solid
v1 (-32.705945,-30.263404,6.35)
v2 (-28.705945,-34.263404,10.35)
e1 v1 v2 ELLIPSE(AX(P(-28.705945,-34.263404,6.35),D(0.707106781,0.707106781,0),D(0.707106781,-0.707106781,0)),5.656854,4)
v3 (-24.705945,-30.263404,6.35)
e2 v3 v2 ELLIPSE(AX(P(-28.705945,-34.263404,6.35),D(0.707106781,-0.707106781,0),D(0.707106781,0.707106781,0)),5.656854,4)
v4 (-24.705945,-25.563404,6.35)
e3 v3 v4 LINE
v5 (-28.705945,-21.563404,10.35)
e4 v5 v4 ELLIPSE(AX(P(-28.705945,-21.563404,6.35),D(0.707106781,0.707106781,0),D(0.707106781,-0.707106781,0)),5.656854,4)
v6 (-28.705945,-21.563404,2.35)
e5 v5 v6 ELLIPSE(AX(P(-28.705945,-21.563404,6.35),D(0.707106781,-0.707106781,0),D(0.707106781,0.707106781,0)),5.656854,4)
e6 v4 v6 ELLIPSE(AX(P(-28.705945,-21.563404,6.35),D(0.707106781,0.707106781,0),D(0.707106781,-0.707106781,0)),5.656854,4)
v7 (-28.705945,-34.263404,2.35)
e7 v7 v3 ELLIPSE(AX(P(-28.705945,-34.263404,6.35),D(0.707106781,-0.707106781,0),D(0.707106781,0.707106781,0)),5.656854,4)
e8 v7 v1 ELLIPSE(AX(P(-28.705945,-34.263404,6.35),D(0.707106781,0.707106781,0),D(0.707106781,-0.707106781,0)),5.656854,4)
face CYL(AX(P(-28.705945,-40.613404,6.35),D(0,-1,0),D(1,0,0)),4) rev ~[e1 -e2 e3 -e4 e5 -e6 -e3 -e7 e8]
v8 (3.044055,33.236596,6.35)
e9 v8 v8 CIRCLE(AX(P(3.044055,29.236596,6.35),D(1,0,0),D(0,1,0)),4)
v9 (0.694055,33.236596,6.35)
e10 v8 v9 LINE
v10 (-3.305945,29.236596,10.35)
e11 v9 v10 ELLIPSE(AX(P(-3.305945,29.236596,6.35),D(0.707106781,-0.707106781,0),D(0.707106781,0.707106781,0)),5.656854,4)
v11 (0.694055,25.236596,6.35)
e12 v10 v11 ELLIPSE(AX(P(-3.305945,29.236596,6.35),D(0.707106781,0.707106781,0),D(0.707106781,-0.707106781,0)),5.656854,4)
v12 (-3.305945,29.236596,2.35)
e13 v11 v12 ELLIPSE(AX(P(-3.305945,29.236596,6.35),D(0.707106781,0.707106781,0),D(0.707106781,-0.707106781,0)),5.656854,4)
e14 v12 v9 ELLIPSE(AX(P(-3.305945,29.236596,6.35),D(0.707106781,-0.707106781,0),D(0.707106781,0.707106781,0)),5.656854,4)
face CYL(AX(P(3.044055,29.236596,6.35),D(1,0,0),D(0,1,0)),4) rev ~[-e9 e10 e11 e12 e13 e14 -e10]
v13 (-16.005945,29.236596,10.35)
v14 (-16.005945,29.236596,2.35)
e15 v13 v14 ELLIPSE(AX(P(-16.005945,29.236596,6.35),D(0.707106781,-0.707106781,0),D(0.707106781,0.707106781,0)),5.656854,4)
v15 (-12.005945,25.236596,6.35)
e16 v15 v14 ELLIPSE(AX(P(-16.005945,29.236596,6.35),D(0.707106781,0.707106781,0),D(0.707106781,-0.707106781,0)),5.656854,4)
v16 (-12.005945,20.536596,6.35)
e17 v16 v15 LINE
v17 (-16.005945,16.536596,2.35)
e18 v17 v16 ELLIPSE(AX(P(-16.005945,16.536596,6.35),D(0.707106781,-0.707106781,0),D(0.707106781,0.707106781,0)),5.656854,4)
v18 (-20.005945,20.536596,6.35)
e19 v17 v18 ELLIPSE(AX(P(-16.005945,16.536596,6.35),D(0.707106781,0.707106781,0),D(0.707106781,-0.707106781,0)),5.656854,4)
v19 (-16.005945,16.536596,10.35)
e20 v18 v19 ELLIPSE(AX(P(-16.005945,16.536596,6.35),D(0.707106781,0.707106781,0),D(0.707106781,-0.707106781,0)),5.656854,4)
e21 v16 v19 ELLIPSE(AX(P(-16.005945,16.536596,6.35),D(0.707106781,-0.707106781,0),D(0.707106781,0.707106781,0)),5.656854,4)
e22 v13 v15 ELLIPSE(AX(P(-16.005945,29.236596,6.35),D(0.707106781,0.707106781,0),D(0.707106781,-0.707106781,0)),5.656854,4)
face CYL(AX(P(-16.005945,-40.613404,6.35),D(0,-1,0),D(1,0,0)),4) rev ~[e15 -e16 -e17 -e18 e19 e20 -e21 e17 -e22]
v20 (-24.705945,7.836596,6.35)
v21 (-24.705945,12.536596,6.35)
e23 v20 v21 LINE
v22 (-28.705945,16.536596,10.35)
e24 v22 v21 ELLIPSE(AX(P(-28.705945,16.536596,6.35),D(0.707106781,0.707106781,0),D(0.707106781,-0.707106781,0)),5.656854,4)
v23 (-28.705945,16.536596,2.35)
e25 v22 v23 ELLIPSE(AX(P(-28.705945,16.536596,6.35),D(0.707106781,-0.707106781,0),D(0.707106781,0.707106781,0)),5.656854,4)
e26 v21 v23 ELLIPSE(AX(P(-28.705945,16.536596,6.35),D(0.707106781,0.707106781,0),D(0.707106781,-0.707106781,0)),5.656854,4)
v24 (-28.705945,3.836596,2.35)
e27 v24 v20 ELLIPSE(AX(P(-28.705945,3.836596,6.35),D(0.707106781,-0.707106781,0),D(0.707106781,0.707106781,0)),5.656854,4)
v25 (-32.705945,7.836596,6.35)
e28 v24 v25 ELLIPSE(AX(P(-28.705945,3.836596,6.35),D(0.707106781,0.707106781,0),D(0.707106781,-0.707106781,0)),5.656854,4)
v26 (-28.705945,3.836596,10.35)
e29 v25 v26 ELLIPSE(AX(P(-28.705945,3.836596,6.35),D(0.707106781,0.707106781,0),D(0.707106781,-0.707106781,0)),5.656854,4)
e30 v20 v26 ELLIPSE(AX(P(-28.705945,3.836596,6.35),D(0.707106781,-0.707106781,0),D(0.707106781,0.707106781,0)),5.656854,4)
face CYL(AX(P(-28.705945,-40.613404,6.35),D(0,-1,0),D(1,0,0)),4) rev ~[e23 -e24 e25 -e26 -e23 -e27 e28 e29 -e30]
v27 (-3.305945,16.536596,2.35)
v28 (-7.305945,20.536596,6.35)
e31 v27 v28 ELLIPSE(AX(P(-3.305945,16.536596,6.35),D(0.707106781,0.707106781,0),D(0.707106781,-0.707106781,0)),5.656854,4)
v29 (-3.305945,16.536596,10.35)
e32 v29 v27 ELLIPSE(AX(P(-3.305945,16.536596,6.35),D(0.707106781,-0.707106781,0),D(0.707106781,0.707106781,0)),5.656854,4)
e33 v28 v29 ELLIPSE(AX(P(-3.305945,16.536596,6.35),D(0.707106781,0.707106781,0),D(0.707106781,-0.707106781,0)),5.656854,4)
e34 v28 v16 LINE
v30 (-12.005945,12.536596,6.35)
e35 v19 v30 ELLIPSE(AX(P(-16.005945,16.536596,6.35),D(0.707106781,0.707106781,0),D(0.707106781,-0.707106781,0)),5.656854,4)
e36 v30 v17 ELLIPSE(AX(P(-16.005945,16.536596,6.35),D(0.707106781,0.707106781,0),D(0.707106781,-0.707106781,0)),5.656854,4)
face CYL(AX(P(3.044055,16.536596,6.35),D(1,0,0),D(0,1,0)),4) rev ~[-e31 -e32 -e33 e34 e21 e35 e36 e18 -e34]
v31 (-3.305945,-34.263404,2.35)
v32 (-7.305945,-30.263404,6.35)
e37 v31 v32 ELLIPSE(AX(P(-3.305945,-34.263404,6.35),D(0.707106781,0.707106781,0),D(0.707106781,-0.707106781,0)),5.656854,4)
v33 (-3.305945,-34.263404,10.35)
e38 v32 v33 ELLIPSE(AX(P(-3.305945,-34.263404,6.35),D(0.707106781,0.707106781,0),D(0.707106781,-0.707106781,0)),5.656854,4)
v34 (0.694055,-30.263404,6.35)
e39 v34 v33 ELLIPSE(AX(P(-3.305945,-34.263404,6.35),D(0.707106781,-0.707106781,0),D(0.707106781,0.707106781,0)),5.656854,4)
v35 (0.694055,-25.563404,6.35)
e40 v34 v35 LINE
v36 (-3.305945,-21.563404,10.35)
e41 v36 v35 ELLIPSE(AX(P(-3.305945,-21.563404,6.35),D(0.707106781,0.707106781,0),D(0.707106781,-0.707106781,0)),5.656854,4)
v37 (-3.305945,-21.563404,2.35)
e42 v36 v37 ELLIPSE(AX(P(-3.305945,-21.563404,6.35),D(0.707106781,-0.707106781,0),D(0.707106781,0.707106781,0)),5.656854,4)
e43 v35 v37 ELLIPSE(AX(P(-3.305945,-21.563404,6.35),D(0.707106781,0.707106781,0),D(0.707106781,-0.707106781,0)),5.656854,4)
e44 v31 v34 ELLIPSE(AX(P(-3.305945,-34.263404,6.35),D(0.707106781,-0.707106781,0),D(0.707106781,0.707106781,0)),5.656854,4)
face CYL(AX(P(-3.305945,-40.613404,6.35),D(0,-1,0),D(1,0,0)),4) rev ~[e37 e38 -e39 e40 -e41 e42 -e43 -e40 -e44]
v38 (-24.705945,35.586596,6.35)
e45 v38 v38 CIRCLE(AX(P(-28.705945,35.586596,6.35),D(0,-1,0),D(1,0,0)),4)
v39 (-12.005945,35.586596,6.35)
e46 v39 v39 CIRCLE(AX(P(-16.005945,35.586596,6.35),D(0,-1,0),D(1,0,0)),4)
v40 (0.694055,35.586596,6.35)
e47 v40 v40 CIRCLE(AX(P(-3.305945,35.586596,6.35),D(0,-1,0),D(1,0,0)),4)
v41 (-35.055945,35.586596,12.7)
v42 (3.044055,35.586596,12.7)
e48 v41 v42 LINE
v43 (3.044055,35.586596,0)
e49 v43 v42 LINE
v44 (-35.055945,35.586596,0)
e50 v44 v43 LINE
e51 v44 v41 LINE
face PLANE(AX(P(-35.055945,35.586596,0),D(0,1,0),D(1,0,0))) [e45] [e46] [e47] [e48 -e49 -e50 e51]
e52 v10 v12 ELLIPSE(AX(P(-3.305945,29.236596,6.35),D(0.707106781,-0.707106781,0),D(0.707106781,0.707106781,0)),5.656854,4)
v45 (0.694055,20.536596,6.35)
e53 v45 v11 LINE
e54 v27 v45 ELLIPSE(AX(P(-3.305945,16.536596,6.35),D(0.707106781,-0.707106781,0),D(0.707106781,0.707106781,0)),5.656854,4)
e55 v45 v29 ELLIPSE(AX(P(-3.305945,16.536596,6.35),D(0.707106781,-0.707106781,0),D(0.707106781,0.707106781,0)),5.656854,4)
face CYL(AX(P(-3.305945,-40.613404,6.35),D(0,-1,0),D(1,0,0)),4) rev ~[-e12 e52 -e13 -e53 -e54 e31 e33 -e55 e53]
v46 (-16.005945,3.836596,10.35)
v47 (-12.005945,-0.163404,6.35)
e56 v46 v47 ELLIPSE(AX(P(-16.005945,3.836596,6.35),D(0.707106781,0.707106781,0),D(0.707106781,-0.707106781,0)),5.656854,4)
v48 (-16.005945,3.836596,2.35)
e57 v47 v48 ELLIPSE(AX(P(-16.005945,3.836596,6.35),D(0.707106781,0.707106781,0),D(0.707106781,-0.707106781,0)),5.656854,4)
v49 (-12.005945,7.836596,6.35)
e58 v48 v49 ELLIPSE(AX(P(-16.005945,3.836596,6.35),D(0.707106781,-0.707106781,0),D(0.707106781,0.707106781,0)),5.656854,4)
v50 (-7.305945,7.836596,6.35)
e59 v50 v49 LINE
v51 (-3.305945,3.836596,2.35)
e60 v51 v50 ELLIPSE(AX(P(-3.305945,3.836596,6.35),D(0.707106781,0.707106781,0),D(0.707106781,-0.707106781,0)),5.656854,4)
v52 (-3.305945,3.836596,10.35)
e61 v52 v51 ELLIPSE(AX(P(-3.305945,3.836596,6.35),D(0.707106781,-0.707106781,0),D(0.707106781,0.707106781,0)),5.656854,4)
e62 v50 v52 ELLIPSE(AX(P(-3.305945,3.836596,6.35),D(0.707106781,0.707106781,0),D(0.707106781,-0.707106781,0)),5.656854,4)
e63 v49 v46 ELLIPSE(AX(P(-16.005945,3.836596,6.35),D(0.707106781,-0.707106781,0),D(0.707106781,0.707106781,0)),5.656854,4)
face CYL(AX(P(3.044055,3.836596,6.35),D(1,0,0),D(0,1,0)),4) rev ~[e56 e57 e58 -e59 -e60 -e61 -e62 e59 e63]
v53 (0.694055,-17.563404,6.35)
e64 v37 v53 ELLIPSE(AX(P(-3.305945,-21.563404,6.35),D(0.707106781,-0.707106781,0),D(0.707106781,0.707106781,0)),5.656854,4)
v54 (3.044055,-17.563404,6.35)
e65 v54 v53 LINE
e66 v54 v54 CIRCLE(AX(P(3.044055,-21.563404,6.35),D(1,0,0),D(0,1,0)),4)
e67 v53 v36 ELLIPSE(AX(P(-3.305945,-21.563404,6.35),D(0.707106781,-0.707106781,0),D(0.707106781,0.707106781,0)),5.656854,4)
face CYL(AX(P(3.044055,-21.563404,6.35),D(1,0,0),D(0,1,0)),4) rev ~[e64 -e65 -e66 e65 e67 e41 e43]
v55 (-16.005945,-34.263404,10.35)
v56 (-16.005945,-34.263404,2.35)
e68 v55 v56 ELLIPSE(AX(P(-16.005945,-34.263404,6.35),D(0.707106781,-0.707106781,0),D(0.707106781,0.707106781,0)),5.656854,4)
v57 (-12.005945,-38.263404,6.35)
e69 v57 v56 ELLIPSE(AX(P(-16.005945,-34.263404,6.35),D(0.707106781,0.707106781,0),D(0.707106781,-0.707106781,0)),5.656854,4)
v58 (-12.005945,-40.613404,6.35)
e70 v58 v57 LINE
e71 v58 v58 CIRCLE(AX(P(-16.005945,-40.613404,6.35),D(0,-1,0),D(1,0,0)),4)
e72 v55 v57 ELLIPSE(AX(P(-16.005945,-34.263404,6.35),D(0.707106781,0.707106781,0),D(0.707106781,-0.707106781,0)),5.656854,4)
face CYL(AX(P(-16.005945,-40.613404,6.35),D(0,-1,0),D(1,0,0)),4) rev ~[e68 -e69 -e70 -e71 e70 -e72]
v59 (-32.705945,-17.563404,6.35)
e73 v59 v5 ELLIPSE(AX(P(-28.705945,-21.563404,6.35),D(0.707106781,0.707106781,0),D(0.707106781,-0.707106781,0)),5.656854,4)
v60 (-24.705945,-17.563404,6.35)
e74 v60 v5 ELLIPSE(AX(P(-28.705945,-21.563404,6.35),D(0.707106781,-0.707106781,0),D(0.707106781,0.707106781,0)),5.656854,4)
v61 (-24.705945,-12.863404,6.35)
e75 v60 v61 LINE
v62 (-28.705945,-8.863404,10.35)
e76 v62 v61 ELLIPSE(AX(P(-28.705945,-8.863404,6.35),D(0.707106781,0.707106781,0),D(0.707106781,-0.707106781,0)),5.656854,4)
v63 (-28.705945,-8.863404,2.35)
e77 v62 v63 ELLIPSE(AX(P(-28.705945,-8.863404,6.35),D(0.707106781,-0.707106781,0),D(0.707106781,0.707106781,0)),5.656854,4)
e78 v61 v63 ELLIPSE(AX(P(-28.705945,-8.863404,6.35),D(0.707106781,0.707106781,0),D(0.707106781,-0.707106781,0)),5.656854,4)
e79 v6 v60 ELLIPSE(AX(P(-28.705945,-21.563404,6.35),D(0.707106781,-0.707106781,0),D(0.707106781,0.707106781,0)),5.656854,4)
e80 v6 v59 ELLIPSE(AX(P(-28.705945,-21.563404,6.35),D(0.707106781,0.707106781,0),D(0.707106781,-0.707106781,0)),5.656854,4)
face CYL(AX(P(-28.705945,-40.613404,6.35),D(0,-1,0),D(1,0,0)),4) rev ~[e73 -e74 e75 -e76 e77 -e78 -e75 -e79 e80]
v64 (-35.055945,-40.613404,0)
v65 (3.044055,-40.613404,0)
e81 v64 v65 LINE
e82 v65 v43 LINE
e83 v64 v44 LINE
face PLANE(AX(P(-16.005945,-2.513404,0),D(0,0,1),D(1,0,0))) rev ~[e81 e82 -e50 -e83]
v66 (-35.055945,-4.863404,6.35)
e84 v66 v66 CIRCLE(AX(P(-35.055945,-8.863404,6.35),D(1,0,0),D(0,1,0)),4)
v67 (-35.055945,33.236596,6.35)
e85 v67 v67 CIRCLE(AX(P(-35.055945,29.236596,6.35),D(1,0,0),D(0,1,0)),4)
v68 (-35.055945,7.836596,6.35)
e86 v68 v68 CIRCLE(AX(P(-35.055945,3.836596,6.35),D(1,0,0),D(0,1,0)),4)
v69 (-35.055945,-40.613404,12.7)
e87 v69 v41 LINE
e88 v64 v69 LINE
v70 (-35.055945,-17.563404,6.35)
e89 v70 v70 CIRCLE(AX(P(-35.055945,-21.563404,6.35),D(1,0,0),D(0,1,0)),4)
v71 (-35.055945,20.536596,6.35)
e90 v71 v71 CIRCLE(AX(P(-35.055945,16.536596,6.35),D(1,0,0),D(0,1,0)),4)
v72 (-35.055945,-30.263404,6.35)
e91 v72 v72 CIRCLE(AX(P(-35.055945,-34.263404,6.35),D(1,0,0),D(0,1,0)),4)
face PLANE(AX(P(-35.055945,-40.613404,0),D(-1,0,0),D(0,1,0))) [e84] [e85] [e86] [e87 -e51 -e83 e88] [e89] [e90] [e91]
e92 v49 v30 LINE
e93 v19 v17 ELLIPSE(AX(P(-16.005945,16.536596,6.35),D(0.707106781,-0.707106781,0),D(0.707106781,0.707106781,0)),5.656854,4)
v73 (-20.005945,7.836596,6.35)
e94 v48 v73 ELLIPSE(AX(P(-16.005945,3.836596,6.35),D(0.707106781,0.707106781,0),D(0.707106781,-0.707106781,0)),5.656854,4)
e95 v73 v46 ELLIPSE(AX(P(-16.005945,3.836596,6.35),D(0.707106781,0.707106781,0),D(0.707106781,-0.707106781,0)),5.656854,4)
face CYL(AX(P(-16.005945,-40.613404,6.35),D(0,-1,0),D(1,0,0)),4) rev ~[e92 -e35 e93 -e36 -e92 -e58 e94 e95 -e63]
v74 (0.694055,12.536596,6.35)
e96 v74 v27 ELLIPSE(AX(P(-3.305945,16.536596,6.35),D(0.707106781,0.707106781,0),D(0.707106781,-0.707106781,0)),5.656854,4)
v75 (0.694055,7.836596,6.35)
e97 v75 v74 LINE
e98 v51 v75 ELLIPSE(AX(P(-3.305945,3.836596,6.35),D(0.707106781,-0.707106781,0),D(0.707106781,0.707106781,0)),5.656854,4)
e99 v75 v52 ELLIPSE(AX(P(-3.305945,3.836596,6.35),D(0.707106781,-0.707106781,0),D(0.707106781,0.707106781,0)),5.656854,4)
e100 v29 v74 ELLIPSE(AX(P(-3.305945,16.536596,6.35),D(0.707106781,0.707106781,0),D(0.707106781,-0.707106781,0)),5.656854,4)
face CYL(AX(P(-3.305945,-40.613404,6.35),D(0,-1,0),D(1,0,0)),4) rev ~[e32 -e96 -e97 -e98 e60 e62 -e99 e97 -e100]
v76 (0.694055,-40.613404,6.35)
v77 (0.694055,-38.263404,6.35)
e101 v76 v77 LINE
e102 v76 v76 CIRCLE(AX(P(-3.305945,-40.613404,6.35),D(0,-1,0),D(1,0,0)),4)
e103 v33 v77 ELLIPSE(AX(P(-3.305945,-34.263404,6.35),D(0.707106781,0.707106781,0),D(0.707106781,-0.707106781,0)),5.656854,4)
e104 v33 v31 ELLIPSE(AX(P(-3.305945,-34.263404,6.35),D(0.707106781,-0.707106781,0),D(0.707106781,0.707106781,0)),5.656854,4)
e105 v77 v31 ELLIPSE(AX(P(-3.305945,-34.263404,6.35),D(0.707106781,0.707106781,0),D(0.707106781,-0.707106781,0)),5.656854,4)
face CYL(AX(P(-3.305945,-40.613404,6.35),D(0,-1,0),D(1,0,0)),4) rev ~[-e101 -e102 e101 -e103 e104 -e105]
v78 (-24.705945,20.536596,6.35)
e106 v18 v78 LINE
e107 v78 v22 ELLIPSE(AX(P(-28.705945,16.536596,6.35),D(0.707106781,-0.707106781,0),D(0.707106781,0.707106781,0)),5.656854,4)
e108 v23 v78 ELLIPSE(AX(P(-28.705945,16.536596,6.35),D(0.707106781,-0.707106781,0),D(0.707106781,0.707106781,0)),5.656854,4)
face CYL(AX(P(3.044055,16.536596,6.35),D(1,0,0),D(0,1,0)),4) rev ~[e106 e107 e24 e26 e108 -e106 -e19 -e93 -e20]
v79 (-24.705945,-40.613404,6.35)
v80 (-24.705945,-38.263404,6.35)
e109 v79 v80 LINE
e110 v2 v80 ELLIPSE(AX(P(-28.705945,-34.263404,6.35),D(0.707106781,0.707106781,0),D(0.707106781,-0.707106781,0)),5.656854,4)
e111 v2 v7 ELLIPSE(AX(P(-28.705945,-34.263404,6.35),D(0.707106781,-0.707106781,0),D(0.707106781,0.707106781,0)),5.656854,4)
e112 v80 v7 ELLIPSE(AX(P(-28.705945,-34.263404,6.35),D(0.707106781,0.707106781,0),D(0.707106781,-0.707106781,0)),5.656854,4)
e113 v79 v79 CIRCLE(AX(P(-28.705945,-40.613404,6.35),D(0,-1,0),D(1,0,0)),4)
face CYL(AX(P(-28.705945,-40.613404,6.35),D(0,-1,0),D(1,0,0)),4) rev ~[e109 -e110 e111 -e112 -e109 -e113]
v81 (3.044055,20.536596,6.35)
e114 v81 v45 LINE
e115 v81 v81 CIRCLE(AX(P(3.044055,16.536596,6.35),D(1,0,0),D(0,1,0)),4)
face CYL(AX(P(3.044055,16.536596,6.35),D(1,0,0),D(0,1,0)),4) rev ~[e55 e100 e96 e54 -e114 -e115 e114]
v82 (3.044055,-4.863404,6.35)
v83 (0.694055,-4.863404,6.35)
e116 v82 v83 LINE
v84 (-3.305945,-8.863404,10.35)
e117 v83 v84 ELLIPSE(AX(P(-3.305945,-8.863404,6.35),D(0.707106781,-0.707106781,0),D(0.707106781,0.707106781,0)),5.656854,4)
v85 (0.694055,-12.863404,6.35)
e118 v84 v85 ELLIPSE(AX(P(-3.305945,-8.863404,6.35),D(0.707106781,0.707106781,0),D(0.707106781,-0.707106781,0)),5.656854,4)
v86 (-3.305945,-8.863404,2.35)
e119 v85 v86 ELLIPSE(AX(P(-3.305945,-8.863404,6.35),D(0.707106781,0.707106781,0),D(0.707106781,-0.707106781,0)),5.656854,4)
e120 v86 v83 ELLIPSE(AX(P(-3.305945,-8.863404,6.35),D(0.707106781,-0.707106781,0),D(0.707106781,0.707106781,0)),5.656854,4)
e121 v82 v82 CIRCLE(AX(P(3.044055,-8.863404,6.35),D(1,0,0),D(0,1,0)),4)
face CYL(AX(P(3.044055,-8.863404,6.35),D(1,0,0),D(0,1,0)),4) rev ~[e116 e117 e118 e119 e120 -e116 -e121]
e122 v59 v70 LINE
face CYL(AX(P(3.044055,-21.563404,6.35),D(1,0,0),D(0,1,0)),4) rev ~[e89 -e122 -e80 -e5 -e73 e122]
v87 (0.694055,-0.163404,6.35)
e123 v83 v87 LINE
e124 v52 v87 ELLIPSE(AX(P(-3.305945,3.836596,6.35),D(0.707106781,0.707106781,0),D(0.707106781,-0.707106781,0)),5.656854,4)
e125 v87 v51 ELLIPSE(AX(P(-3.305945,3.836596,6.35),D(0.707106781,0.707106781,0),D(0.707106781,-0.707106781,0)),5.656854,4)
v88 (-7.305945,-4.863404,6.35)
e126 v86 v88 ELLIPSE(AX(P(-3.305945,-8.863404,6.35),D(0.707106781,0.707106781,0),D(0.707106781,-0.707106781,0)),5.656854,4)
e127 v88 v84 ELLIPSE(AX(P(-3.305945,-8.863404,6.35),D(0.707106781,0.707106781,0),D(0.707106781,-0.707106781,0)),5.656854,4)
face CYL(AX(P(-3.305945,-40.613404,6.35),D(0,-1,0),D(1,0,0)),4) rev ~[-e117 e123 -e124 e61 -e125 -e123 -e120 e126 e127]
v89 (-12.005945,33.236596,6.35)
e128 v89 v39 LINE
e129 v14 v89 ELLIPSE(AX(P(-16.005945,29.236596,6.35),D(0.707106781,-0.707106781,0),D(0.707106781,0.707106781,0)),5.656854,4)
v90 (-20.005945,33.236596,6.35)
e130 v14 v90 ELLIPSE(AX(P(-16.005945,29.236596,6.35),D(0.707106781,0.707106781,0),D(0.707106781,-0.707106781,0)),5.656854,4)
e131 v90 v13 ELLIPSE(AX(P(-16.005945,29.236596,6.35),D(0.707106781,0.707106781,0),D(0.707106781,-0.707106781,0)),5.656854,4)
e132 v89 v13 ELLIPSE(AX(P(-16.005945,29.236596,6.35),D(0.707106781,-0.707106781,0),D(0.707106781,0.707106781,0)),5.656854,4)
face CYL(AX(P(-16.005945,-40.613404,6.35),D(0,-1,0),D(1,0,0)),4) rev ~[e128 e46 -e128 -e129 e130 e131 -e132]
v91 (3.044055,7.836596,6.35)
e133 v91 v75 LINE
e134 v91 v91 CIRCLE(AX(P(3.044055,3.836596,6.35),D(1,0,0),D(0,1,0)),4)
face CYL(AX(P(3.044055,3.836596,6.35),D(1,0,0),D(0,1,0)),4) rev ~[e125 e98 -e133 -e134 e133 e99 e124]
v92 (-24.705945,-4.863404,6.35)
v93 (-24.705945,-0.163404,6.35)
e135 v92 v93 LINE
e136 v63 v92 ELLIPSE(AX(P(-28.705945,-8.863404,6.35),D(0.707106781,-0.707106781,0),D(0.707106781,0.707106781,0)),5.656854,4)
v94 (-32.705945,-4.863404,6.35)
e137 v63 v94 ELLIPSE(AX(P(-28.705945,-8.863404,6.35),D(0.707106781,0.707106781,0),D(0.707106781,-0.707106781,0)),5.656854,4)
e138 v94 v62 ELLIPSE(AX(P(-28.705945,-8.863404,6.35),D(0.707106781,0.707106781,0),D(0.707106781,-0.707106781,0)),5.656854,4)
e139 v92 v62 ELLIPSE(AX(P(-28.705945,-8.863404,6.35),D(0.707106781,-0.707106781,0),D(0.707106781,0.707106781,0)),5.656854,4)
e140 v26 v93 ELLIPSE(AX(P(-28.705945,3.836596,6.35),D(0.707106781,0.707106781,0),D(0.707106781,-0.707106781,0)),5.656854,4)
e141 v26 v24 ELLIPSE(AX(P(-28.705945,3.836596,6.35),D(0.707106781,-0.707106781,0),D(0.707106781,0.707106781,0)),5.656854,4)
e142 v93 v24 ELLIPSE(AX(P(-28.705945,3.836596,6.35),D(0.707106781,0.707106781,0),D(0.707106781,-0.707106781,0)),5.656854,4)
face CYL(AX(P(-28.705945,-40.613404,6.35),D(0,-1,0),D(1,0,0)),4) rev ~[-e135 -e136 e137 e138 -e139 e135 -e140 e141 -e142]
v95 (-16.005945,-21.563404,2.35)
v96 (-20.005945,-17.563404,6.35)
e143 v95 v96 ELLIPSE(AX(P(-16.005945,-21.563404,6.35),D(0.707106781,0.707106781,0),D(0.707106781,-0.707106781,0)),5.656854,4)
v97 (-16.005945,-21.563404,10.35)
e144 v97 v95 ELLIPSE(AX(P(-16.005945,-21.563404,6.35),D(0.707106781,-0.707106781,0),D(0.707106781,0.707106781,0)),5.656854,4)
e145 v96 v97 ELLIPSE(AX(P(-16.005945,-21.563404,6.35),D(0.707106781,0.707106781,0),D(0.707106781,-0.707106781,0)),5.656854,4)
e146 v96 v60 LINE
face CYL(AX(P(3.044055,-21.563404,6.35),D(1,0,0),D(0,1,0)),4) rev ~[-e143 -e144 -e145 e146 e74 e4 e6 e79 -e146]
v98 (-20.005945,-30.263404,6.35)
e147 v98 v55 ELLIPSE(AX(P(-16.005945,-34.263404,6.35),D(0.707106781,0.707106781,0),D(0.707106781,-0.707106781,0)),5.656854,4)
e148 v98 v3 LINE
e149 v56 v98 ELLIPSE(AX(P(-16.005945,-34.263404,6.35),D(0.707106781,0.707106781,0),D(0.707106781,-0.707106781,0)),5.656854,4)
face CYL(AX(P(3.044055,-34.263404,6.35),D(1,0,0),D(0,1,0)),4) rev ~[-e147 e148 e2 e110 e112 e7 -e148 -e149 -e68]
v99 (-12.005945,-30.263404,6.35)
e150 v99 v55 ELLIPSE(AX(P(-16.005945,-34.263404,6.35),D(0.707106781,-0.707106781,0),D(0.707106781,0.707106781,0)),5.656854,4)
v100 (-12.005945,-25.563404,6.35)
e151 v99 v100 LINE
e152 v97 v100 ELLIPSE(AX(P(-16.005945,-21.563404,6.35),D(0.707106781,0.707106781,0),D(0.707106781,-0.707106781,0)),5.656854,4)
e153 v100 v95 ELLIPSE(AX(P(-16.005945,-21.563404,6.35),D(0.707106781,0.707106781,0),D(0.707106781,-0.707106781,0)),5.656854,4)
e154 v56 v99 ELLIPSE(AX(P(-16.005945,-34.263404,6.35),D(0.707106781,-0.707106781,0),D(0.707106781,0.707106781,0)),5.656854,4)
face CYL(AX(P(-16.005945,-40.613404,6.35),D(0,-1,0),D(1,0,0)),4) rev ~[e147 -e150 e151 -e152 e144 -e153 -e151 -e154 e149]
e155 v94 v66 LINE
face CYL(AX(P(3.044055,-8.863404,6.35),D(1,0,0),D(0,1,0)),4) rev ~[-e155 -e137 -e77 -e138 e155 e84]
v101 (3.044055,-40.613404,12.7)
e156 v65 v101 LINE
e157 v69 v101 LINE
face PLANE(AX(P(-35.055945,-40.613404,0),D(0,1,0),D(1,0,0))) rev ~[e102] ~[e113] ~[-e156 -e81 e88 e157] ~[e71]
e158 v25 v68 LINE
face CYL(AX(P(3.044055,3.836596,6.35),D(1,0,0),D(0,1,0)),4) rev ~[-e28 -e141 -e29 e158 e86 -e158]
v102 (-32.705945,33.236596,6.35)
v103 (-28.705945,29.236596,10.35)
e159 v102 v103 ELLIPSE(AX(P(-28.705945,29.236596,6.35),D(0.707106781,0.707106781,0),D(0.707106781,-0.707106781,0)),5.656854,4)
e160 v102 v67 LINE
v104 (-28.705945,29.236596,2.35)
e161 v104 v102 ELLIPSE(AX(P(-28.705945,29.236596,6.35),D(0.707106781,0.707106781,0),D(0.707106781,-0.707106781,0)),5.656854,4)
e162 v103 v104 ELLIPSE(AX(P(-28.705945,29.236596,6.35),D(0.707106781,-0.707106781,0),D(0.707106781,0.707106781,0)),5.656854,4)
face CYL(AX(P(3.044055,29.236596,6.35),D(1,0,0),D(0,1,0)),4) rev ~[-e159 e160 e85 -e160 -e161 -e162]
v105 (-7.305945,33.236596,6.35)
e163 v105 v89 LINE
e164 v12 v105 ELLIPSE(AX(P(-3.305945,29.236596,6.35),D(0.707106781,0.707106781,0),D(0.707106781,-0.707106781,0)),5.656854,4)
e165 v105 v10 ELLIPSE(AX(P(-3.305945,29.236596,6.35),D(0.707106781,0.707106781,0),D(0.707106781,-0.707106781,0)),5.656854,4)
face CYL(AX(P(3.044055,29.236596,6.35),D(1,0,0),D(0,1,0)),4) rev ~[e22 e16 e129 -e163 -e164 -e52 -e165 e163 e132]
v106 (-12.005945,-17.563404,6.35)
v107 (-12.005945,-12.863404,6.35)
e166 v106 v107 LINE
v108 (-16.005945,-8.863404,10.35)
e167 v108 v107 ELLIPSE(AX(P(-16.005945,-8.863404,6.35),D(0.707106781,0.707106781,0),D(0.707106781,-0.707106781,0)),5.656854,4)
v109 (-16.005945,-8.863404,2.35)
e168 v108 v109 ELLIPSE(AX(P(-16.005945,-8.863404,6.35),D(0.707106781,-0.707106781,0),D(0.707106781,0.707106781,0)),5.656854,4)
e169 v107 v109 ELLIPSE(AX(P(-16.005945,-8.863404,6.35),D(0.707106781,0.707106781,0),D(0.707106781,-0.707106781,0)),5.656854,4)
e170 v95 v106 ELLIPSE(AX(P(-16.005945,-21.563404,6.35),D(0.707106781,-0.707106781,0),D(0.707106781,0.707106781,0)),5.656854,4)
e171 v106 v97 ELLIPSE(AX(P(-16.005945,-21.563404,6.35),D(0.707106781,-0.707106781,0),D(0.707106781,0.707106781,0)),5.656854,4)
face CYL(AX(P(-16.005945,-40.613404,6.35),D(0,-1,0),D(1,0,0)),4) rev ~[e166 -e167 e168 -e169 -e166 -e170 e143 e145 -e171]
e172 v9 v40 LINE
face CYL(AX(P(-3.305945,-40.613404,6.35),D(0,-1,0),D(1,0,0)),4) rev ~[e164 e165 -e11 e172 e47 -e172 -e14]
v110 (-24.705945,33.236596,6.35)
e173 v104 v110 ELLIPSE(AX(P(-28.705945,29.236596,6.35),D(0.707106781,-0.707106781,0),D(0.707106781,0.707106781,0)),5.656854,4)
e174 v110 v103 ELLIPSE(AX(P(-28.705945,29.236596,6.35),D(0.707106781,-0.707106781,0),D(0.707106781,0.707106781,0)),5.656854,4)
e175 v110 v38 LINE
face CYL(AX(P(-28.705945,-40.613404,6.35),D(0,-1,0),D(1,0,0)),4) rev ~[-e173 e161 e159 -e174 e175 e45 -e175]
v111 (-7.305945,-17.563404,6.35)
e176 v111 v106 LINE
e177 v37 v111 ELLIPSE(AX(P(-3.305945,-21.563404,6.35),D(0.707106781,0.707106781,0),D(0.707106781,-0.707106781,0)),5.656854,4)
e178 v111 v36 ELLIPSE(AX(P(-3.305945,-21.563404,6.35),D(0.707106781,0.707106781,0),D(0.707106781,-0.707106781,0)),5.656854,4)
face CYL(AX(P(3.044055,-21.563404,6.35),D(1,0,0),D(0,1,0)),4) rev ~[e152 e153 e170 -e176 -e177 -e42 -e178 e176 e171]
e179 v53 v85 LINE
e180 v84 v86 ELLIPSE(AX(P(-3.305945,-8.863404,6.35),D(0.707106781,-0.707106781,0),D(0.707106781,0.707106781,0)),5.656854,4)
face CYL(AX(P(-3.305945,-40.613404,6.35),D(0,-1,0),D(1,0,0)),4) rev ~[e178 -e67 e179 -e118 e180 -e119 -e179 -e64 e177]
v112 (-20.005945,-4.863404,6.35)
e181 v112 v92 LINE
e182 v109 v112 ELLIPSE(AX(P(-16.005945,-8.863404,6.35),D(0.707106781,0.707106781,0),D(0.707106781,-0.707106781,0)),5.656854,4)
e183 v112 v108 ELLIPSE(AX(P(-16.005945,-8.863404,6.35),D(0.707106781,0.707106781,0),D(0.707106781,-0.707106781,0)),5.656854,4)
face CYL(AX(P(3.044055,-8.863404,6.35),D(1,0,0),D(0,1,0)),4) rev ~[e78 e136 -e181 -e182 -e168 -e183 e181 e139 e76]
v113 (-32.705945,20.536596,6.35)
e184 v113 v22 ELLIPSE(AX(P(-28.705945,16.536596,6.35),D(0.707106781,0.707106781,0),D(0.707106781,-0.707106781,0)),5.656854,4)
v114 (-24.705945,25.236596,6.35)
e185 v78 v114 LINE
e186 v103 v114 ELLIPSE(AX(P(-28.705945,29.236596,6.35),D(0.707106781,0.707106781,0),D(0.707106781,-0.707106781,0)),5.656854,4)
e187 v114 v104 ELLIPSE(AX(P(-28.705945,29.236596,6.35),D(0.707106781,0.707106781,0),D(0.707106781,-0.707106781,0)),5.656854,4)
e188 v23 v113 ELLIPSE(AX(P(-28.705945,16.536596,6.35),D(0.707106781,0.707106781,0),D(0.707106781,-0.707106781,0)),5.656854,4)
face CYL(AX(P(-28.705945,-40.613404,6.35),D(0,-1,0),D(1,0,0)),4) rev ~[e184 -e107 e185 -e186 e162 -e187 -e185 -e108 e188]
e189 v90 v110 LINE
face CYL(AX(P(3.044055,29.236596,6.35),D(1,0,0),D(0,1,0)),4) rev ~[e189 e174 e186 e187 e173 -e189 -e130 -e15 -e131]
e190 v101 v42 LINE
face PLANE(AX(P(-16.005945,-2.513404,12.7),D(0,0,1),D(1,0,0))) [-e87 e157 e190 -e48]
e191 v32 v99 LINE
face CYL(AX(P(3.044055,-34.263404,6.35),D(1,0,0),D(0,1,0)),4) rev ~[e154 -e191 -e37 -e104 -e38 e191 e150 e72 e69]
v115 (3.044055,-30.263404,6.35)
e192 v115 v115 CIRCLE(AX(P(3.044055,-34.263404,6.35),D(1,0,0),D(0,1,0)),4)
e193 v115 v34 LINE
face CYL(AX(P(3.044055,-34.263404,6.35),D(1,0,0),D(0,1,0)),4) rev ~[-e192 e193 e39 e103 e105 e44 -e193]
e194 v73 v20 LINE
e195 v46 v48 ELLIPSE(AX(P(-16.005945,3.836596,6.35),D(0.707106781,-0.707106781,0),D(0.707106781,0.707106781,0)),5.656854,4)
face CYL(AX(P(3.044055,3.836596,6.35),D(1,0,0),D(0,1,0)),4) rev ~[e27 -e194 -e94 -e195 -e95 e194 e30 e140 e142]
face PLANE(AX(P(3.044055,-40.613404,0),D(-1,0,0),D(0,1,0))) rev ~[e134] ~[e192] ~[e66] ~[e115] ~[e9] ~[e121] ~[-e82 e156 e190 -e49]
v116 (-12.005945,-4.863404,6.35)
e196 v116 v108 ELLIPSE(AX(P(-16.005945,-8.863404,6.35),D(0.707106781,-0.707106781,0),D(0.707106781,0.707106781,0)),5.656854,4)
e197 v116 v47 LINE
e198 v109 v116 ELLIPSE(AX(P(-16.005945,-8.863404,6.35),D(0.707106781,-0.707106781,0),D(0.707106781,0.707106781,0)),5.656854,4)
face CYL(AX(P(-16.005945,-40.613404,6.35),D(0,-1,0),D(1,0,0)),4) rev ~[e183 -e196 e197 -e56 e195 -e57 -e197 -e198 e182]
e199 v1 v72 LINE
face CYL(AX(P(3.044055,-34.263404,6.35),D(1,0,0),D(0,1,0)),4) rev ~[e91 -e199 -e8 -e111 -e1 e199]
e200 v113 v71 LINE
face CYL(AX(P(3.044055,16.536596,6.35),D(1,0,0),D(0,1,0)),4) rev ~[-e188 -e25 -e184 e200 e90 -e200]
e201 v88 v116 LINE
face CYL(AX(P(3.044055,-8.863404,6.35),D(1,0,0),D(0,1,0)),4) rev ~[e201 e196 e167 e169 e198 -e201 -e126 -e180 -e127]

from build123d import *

# Parameters (mm, degrees)
F0_W     = 38.1
F0_H     = 76.2
F1_DEPTH = 12.7
F2_R     = 4
F3_DEPTH = 38.101
F4_R     = 4
F5_DEPTH = 76.201


with BuildPart() as f1:
    # F0 (on Top) → F1 (new body)
    with BuildSketch(Plane.XY):
        with Locations((-16.005945, -2.513404)):
            Rectangle(F0_W, F0_H)
    extrude(amount=F1_DEPTH)

    # F2 (on face) → F3 (cut, through all)
    with BuildSketch(Plane.YZ.offset(3.044055)):
        with Locations((-34.263404, 6.35)):
            Circle(F2_R)
        with Locations((-21.563404, 6.35)):
            Circle(F2_R)
        with Locations((-8.863404, 6.35)):
            Circle(F2_R)
        with Locations((3.836596, 6.35)):
            Circle(F2_R)
        with Locations((16.536596, 6.35)):
            Circle(F2_R)
        with Locations((29.236596, 6.35)):
            Circle(F2_R)
    extrude(amount=-F3_DEPTH, mode=Mode.SUBTRACT)

    # F4 (on face) → F5 (cut, through all)
    with BuildSketch(Plane.XZ.offset(40.613404)):
        with Locations((-28.705945, 6.35)):
            Circle(F4_R)
        with Locations((-16.005945, 6.35)):
            Circle(F4_R)
        with Locations((-3.305945, 6.35)):
            Circle(F4_R)
    extrude(amount=-F5_DEPTH, mode=Mode.SUBTRACT)


solid = f1.part
